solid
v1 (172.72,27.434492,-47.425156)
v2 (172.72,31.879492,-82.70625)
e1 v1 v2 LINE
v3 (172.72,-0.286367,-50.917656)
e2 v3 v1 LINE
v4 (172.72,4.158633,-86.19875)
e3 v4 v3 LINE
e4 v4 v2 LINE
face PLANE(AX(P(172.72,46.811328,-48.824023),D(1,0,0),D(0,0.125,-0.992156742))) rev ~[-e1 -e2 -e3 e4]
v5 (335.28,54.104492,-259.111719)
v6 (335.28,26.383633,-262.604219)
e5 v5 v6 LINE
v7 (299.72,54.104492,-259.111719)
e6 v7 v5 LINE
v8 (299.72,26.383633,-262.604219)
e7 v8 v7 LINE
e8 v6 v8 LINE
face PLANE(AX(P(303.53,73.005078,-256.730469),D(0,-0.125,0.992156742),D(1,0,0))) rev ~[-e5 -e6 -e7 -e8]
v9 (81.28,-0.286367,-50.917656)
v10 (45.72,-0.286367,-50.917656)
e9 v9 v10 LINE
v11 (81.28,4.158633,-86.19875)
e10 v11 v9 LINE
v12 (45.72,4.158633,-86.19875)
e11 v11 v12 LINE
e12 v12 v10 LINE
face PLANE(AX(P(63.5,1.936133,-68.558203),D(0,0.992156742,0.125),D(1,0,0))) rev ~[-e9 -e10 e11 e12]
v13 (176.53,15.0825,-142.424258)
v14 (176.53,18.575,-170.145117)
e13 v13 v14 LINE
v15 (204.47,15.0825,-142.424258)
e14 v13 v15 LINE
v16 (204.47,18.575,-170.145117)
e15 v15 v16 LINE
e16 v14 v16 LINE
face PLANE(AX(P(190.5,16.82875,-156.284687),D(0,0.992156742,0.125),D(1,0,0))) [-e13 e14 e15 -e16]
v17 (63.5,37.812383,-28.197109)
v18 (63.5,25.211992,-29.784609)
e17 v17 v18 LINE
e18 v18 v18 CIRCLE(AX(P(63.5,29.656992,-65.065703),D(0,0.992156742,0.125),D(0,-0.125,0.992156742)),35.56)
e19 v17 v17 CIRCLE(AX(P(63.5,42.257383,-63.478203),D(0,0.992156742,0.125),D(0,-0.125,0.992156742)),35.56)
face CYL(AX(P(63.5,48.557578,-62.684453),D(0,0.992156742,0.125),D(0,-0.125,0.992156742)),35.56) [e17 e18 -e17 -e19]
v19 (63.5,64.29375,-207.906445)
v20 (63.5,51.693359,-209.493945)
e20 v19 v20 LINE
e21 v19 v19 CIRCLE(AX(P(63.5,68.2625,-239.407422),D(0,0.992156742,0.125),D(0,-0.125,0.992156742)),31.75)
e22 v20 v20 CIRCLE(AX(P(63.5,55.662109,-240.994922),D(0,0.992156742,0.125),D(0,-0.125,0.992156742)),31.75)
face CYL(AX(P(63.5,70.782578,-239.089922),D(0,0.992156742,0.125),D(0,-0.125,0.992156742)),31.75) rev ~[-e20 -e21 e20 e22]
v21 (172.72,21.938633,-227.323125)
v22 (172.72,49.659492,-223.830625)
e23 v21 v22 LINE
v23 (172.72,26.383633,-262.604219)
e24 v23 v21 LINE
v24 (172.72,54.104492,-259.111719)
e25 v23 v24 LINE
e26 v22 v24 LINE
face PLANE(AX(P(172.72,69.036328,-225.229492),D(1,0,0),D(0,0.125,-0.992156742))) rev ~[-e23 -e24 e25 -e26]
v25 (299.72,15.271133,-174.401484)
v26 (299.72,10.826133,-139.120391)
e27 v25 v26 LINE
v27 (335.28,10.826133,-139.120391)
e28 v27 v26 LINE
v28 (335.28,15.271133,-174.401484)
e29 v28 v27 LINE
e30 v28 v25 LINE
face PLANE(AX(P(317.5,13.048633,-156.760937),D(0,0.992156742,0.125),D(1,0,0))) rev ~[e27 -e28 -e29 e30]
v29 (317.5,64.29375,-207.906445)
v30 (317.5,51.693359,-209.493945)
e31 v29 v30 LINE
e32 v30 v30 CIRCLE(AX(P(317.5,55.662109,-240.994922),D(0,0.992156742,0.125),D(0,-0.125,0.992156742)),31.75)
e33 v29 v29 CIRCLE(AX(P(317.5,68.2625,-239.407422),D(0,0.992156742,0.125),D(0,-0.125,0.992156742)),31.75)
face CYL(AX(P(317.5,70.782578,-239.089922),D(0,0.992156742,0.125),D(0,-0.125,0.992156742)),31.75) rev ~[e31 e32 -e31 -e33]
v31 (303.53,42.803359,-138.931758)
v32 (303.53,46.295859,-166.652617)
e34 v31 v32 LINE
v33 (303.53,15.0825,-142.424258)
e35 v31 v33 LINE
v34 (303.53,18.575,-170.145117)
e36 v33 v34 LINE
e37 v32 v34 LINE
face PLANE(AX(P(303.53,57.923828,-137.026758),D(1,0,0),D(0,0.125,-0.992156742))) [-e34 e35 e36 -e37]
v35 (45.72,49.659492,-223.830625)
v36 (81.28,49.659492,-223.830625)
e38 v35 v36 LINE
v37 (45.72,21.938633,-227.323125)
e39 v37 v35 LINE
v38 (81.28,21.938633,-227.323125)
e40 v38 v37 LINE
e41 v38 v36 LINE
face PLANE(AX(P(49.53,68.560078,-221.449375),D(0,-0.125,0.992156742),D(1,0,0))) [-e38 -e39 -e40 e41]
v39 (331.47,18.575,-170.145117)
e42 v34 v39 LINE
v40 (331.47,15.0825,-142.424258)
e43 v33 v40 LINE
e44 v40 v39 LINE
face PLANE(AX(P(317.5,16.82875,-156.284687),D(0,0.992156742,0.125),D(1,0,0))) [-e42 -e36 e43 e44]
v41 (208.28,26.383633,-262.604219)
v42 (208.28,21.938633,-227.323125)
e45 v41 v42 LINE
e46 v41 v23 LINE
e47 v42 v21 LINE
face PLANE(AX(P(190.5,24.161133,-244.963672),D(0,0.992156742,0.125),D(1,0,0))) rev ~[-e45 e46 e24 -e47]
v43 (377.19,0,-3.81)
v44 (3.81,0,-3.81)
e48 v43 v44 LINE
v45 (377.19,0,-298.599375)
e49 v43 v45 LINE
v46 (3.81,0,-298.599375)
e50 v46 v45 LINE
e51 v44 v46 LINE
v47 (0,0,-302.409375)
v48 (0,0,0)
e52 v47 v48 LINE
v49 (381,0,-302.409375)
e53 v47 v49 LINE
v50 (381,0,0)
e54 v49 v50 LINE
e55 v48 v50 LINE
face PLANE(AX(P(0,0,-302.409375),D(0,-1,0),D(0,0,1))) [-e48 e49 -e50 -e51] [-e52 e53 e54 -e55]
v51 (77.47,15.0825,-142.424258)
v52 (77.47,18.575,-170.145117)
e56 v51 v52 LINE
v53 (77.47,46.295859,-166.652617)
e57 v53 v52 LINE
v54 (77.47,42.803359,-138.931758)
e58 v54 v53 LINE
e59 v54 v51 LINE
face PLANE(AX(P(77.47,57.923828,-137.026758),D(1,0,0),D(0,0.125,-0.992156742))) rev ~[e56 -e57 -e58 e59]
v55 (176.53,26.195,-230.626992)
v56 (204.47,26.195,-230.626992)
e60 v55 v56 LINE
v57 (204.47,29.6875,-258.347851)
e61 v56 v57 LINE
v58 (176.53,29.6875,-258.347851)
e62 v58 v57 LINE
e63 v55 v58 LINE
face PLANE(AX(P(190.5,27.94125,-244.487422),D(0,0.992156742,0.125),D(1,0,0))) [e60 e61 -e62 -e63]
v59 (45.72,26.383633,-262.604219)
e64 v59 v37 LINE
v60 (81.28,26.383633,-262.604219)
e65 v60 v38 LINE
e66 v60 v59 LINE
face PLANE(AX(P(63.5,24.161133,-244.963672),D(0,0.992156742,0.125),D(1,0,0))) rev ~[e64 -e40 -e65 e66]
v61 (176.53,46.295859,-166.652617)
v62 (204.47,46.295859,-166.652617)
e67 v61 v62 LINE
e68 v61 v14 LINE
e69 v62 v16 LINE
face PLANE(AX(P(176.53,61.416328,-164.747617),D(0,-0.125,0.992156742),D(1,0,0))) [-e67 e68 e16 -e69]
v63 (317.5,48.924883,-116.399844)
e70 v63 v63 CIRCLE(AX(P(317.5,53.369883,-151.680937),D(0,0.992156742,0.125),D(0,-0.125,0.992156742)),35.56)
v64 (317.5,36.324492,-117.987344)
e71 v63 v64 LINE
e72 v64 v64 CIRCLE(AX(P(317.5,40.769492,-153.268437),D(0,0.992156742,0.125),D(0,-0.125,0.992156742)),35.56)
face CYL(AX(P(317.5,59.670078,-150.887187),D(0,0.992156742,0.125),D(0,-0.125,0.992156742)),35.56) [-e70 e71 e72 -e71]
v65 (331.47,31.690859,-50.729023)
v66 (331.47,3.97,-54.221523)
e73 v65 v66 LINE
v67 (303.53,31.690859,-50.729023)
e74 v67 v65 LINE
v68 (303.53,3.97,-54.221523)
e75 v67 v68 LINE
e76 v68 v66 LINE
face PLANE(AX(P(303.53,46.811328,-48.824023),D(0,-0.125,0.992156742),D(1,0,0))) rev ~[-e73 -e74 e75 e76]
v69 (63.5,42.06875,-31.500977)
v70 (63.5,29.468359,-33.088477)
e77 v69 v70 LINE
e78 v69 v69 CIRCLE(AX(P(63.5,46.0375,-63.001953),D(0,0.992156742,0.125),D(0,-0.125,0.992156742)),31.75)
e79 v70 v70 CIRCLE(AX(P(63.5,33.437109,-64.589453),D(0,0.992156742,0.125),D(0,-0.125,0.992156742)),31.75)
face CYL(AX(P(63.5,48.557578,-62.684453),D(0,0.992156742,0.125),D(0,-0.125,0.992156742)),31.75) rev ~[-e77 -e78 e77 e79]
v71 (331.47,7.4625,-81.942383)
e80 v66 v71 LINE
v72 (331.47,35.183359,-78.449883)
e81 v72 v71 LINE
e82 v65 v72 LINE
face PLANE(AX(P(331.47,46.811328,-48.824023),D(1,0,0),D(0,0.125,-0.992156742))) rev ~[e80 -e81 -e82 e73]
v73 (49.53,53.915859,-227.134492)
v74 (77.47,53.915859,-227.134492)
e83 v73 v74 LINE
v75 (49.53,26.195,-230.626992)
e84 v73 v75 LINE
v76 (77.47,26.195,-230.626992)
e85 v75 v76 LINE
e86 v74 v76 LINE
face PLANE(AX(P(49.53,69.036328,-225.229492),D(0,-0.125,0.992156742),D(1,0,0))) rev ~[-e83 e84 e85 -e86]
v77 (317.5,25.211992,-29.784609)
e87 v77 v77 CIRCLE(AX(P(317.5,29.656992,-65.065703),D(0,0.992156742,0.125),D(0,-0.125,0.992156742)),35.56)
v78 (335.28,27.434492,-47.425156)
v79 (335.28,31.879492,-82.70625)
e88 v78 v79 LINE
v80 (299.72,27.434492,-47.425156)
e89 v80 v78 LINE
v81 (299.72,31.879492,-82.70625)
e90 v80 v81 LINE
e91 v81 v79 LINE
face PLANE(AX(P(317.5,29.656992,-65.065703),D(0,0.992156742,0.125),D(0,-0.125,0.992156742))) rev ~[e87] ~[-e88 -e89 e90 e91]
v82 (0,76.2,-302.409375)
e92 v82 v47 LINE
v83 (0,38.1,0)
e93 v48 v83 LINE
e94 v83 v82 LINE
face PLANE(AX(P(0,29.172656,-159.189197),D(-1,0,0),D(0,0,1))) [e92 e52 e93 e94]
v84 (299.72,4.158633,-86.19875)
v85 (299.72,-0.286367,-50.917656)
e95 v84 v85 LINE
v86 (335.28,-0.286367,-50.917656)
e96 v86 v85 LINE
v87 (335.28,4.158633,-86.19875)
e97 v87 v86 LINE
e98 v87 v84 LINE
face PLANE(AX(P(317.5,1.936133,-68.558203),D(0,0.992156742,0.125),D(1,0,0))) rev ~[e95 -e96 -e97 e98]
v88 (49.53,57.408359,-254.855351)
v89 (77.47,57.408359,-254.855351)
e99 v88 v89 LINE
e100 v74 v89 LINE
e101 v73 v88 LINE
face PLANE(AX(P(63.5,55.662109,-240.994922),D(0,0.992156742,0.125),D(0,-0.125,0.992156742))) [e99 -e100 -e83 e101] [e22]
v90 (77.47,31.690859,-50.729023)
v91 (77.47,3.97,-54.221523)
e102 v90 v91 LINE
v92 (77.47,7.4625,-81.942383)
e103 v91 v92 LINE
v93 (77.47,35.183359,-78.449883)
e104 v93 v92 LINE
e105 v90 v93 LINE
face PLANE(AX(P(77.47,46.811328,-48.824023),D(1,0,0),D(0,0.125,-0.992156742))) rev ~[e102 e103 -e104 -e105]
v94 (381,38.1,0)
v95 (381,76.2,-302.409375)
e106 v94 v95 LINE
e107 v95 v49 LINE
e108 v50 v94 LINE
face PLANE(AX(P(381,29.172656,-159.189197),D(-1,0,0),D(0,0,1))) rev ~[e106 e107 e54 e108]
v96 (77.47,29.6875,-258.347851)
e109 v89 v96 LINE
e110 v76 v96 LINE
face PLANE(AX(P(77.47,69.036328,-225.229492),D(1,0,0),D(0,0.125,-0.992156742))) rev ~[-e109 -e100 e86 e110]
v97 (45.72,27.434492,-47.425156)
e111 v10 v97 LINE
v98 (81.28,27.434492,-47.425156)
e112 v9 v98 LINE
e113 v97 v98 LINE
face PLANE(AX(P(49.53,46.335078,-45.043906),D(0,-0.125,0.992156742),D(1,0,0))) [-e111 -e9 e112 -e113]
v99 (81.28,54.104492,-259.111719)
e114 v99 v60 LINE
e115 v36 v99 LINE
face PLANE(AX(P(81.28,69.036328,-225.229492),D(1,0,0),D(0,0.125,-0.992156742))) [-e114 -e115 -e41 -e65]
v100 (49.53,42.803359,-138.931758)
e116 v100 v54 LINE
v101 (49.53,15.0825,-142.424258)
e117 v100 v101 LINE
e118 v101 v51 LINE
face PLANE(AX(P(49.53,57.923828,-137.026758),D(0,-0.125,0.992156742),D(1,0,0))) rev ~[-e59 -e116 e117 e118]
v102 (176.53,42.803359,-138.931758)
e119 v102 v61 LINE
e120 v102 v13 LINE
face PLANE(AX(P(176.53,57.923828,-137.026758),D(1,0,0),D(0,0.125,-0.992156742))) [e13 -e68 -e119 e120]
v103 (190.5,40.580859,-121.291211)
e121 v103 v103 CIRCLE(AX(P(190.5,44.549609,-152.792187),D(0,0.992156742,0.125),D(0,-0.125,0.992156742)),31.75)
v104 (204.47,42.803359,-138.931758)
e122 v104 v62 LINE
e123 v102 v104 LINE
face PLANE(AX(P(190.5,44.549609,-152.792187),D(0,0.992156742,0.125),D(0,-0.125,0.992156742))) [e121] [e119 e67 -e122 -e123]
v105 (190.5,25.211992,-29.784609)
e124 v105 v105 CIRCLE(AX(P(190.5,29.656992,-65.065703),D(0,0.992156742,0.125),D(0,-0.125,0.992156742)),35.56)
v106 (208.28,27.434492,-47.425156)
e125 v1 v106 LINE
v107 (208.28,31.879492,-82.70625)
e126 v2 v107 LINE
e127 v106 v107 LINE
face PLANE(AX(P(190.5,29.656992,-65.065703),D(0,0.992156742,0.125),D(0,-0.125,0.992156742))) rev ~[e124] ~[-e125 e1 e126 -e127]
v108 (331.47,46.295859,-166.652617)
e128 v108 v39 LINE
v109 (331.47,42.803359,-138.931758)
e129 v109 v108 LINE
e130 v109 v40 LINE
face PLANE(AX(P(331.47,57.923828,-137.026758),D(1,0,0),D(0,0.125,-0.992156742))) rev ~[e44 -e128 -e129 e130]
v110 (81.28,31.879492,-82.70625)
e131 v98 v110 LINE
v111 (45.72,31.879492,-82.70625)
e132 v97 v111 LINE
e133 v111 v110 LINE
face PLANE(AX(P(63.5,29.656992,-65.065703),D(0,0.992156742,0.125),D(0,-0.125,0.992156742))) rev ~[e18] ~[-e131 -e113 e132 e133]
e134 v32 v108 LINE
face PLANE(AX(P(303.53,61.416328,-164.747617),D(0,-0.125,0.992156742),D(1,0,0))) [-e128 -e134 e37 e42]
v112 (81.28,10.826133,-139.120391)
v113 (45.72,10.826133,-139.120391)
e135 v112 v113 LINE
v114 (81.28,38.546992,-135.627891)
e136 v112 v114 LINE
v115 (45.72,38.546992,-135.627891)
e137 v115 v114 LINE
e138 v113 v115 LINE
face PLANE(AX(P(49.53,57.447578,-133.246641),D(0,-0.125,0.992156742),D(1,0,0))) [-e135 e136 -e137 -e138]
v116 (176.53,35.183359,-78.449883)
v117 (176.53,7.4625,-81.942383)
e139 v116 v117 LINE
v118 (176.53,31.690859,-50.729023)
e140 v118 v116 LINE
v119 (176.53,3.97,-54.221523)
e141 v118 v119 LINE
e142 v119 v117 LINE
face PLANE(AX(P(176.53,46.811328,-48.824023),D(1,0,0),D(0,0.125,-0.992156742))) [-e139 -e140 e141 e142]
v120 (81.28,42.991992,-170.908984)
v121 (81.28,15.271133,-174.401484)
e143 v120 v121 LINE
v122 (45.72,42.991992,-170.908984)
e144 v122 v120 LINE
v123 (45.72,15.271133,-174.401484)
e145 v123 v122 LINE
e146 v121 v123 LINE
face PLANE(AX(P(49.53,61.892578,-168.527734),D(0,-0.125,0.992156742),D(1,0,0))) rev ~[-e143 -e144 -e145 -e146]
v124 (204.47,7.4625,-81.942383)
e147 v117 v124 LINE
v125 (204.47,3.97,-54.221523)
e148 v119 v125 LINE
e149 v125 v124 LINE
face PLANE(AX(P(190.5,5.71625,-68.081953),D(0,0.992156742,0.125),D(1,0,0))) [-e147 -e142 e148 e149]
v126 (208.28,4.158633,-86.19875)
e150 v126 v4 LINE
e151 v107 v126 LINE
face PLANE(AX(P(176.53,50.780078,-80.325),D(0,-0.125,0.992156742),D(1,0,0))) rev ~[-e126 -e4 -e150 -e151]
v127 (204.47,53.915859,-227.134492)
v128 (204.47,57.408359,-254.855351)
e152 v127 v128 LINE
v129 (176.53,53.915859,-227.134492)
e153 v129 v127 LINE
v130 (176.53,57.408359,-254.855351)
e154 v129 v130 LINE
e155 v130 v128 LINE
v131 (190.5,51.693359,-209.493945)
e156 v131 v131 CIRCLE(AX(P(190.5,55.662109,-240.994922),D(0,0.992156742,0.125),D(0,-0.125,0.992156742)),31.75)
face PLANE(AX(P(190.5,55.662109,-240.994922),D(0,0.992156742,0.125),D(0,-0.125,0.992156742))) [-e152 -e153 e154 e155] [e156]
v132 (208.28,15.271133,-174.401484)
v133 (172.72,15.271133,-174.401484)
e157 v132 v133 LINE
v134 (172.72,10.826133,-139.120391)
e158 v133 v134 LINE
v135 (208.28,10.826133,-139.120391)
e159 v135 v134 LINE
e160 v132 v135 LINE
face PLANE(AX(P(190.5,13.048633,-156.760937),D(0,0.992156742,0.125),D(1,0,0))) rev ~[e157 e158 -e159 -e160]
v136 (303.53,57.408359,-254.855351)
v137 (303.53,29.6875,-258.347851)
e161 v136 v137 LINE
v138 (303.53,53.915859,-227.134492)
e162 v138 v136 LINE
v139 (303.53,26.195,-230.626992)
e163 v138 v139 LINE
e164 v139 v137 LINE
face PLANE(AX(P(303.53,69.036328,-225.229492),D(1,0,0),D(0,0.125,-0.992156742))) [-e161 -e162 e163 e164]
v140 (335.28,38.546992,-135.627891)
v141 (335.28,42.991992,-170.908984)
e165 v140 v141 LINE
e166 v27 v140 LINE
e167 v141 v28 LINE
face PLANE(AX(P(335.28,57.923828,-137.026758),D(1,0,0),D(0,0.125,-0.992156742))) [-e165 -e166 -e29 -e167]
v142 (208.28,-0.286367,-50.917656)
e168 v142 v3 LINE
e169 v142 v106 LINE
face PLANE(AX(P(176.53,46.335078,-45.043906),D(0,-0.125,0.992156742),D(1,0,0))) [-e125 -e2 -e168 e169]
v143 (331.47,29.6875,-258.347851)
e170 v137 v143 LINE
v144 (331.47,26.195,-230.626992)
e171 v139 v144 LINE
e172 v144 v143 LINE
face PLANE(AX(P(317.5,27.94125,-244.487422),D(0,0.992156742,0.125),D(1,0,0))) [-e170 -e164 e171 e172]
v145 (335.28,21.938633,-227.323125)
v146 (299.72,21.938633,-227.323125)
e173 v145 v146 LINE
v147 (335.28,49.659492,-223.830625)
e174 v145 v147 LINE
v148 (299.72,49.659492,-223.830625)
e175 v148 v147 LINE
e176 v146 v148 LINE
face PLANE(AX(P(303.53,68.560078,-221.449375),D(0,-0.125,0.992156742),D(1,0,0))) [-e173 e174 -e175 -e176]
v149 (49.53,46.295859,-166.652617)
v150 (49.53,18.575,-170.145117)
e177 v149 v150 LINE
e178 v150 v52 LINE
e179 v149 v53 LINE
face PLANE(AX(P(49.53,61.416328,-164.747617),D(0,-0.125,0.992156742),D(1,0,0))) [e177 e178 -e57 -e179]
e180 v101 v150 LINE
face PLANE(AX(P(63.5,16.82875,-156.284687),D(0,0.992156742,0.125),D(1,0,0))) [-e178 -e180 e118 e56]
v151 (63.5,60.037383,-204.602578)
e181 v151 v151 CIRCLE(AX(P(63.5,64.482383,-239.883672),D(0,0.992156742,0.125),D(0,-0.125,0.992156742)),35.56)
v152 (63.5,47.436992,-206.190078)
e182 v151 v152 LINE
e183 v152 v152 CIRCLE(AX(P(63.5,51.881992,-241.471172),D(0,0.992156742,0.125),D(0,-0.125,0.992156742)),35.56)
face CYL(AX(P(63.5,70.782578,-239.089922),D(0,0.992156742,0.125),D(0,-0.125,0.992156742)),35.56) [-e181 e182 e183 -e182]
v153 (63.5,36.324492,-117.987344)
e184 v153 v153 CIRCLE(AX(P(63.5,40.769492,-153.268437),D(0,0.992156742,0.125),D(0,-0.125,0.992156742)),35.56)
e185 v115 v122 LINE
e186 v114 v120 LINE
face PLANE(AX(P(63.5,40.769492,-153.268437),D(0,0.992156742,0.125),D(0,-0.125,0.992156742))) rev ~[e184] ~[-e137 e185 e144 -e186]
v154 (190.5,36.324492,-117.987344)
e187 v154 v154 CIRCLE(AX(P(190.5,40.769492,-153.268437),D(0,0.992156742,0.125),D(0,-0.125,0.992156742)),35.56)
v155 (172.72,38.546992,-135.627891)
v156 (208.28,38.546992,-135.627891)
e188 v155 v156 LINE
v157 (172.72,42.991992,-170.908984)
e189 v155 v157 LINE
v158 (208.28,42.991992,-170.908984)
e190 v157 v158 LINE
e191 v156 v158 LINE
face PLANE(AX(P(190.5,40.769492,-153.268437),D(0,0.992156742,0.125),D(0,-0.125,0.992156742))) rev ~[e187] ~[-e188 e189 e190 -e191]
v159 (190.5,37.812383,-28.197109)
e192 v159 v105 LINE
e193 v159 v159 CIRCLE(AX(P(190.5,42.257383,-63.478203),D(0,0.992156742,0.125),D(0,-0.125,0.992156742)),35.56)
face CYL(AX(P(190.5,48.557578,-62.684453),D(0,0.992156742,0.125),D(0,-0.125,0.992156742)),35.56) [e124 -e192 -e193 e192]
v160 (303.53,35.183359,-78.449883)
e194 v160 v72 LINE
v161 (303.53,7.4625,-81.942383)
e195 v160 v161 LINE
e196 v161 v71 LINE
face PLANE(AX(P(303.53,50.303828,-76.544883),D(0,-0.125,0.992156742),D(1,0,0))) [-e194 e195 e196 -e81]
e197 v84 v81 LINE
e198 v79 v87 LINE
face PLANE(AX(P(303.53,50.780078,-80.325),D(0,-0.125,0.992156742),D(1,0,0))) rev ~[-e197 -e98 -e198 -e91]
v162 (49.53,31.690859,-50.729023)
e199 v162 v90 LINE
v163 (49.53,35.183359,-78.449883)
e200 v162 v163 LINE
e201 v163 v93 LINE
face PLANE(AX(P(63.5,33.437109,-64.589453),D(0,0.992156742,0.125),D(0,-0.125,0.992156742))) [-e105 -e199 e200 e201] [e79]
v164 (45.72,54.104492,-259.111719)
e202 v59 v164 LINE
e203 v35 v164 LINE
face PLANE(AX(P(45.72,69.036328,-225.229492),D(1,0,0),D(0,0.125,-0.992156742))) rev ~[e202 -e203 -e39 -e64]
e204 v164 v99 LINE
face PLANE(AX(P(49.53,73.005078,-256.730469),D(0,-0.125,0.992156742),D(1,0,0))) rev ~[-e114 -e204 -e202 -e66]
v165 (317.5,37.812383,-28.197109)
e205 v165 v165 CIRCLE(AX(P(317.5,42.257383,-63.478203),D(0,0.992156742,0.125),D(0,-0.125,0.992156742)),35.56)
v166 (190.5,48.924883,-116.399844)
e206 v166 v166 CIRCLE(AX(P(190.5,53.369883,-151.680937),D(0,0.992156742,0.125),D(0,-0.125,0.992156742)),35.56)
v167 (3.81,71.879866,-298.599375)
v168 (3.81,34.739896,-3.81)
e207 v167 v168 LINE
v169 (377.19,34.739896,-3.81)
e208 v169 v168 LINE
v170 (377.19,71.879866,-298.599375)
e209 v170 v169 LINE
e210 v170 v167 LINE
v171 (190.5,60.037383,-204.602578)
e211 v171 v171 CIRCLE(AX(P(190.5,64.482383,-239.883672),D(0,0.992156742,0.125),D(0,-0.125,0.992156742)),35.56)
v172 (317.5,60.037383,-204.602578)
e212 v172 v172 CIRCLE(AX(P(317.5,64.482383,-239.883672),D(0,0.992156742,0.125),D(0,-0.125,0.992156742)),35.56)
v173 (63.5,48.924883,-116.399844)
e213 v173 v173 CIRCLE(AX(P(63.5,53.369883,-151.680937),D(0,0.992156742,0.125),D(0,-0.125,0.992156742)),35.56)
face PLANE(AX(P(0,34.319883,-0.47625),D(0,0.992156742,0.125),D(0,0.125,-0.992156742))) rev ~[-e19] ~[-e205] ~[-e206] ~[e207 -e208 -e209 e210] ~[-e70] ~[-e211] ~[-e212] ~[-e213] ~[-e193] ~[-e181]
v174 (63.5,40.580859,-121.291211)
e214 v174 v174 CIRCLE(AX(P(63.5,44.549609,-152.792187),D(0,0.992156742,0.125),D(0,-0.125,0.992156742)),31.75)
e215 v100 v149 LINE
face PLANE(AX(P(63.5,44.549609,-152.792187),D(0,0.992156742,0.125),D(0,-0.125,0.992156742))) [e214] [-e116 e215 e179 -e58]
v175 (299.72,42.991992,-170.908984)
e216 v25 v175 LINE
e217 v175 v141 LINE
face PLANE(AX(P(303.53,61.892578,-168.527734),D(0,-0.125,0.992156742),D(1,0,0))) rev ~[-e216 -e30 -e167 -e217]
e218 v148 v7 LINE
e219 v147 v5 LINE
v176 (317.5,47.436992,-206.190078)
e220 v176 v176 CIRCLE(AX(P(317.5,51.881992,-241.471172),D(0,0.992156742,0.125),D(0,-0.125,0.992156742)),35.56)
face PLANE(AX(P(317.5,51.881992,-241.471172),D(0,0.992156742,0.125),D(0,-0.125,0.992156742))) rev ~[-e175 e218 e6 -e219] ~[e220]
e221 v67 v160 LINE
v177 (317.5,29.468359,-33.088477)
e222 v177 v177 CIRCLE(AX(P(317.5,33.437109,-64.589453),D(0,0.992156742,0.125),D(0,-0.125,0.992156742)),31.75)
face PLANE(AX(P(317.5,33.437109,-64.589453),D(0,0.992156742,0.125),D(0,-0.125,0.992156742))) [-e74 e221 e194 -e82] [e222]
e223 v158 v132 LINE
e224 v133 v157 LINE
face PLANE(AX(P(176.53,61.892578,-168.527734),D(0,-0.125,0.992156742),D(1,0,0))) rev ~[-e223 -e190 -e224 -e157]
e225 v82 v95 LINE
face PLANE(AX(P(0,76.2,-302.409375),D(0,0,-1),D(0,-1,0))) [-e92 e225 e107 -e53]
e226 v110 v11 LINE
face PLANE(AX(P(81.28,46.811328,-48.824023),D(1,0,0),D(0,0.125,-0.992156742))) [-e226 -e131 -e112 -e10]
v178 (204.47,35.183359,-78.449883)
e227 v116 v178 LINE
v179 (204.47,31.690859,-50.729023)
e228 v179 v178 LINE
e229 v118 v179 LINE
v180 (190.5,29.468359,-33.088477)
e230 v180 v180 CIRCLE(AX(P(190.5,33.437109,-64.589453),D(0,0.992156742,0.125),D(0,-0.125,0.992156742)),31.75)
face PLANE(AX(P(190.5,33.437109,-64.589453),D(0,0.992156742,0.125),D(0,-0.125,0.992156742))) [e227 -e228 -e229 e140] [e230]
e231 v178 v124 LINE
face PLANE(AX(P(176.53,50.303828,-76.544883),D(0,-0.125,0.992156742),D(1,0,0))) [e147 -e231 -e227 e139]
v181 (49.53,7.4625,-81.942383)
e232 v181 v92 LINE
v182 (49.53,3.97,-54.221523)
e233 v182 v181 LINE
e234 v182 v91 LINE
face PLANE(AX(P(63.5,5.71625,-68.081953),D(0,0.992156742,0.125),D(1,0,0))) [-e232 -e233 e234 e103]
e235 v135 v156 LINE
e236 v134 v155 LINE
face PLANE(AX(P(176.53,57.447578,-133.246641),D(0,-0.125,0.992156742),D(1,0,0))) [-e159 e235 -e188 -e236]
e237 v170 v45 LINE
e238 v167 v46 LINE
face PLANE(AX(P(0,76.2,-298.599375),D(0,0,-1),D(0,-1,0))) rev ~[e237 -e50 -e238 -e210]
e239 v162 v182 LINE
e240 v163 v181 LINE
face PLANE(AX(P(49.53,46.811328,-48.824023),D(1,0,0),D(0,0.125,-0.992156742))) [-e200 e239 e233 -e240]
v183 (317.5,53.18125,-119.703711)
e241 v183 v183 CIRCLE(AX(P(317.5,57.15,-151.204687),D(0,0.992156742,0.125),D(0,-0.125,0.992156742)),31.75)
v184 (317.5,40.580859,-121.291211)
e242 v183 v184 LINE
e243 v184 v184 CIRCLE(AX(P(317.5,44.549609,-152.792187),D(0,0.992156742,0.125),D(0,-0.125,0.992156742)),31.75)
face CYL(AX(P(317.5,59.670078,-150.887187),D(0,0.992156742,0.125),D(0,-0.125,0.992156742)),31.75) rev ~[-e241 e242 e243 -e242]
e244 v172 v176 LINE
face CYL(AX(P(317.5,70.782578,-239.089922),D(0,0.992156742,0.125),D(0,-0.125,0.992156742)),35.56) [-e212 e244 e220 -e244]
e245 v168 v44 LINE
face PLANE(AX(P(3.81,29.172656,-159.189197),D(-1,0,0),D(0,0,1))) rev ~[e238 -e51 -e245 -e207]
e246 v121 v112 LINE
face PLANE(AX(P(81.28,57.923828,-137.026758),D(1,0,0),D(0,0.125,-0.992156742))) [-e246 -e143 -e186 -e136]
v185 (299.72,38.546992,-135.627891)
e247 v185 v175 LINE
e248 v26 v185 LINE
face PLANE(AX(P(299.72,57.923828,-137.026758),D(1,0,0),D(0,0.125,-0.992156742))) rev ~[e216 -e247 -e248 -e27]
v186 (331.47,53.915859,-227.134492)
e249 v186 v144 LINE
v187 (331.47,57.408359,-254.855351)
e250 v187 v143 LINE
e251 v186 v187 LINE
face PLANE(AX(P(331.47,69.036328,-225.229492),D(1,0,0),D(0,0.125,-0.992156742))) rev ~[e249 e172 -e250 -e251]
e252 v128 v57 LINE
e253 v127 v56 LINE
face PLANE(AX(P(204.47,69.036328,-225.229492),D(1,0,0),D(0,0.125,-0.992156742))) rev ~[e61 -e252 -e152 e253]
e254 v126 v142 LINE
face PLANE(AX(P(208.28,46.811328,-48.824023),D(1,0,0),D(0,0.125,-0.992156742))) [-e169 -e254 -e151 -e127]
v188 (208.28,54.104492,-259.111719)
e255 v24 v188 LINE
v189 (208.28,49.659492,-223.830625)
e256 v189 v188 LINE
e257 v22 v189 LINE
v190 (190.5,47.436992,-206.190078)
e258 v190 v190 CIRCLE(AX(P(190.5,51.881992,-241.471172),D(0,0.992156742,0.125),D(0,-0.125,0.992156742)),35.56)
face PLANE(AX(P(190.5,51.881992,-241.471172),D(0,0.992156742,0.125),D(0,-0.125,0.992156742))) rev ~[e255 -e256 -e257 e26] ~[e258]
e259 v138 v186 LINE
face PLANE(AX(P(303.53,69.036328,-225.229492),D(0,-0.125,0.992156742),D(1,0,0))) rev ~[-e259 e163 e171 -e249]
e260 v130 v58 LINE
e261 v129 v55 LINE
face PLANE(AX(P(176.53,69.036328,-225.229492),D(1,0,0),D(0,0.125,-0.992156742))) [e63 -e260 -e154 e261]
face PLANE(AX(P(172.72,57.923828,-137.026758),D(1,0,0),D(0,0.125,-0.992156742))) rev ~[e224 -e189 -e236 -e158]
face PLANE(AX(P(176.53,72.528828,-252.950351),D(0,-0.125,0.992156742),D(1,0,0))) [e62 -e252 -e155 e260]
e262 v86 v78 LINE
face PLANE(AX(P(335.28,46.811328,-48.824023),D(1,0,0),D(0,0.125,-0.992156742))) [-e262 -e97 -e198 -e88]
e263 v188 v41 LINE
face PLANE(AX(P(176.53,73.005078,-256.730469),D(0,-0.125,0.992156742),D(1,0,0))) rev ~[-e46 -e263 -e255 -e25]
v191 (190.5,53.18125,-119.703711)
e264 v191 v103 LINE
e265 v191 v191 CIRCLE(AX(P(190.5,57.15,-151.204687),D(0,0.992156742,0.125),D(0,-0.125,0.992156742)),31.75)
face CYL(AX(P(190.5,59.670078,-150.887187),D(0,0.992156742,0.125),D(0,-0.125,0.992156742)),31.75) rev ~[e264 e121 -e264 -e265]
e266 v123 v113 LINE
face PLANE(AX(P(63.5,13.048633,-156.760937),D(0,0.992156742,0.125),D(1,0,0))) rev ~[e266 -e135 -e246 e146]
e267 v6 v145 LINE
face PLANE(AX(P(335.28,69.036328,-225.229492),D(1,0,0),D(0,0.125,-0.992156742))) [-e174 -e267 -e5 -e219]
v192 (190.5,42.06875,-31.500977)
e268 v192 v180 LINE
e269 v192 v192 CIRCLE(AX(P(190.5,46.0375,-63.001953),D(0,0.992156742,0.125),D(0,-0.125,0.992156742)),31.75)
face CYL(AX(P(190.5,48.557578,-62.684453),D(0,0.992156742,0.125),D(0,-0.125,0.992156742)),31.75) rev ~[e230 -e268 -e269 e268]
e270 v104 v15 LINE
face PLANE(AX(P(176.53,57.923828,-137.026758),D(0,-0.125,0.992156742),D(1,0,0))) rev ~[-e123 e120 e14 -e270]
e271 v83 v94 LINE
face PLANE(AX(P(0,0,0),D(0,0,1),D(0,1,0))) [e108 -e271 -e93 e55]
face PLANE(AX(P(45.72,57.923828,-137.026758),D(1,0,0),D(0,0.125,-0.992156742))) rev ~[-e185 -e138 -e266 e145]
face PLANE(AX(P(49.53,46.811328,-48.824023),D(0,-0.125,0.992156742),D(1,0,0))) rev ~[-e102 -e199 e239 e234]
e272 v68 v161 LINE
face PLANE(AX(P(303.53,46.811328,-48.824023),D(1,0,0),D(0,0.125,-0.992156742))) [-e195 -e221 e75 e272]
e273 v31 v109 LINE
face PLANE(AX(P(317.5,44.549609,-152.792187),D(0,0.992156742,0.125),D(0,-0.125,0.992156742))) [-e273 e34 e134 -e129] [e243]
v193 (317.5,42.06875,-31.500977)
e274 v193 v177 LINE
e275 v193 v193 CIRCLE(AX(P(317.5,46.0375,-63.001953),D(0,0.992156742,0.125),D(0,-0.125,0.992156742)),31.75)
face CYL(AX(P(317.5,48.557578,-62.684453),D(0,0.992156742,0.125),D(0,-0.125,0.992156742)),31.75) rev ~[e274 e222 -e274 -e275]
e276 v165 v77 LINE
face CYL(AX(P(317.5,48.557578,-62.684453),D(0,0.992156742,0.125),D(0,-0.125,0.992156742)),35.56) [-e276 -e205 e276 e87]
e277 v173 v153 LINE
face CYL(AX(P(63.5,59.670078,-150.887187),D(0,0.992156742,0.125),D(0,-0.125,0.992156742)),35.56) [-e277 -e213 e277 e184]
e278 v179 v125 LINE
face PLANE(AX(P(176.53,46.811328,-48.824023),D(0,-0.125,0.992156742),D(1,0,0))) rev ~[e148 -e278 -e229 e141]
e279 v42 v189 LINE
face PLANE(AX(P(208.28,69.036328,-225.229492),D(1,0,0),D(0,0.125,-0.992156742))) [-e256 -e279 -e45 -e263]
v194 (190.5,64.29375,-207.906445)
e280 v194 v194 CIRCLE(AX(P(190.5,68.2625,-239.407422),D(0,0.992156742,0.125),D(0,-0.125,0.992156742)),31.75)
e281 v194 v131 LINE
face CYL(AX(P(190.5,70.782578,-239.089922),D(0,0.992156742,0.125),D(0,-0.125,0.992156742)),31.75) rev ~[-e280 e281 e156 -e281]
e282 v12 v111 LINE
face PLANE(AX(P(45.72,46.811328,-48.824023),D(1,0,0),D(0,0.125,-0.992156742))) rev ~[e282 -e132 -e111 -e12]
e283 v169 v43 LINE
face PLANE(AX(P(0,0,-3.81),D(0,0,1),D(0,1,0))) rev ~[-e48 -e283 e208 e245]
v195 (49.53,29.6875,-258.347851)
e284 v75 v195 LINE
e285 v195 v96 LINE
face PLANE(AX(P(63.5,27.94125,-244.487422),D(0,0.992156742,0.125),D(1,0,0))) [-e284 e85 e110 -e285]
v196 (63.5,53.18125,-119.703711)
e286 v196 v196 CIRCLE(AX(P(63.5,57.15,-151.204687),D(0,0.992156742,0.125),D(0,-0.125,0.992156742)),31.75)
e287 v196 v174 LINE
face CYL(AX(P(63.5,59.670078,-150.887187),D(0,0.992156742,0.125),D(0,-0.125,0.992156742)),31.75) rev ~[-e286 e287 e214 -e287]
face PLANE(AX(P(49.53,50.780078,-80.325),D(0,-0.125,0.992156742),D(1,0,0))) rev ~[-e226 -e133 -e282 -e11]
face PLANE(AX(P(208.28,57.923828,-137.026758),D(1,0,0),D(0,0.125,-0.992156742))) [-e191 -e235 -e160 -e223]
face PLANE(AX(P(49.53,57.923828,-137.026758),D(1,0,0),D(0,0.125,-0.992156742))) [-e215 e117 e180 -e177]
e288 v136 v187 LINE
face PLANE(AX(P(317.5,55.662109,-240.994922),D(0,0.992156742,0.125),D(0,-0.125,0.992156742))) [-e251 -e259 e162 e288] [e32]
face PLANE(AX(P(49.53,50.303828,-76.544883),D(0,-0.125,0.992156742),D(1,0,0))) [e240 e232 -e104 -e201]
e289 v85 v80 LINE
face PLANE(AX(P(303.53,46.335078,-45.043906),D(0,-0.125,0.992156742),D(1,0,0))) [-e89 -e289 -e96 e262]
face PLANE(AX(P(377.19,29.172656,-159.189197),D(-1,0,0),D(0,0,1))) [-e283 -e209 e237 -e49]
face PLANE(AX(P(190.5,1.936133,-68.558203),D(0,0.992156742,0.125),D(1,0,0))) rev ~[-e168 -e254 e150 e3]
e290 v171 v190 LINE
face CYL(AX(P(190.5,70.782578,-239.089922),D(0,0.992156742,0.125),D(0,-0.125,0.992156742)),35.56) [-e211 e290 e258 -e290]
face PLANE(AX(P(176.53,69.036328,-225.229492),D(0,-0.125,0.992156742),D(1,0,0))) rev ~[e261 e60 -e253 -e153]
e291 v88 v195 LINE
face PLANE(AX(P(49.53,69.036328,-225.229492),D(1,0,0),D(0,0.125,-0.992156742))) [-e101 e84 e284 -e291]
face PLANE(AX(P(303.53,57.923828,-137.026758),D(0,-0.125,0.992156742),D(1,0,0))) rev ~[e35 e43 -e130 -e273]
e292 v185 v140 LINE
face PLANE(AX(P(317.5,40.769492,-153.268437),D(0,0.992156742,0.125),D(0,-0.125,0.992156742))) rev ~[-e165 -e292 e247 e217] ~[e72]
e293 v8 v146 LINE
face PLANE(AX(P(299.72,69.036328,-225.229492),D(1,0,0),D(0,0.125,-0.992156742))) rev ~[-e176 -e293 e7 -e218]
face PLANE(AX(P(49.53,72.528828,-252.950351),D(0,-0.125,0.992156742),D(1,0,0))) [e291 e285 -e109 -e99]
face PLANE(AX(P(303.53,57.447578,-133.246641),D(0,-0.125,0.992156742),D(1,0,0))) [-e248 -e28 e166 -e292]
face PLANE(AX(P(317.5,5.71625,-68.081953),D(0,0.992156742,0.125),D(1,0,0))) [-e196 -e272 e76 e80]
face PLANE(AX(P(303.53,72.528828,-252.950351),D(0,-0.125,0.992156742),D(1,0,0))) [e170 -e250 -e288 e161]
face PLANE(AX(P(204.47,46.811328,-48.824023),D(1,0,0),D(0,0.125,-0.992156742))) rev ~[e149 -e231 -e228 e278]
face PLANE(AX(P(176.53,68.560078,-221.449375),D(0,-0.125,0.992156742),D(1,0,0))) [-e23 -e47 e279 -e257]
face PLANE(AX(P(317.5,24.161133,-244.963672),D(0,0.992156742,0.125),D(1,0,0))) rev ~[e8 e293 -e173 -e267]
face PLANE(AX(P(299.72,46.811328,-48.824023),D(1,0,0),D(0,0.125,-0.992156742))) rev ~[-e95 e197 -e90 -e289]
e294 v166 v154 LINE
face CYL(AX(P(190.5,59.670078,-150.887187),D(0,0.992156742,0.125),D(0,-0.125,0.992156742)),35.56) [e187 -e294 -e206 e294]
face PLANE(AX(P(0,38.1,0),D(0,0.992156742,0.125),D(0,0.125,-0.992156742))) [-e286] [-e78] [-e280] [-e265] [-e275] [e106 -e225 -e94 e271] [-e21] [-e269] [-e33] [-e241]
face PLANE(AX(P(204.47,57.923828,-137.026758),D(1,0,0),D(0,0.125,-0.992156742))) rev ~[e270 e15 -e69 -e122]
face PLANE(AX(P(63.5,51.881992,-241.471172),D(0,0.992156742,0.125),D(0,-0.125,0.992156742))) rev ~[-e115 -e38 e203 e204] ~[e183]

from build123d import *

# Parameters (mm, degrees)
BOSS_EXTRUDE1_DEPTH = 381
SKETCH2_R           = 31.75
SKETCH2_W           = 27.94
SKETCH2_H           = 27.94
CUT_EXTRUDE2_DEPTH  = 15.24
SKETCH2_3_W         = 27.94
SKETCH2_3_H         = 27.94
CUT_EXTRUDE3_DEPTH  = 43.18
SHELL1_T            = -3.81


with BuildPart() as part:
    # Sketch1 → Boss-Extrude1 (new body)
    with BuildSketch(Plane(origin=(0, 0, 0), x_dir=(0, 0, -1), z_dir=(1, 0, 0))):
        Polygon((0, 0), (0, 38.1), (302.409374855, 76.2), (302.409374855, 0), align=None)
    extrude(amount=BOSS_EXTRUDE1_DEPTH)

    # Sketch2 → Cut-Extrude2 (cut)
    # profile 1 of 9: a face of its own
    with BuildSketch(Plane(origin=(0, 40.024765624, 5.042646482), x_dir=(1, 0, 0), z_dir=(0, 0.9921567416492215, 0.12500000000000003))):
        with Locations((63.5, 246.0625)):
            Circle(SKETCH2_R)
        with Locations((63.5, 246.0625)):
            Rectangle(SKETCH2_W, SKETCH2_H, mode=Mode.SUBTRACT)
    # profile 2 of 9: a face of its own
    with BuildSketch(Plane(origin=(0, 40.024765624, 5.042646482), x_dir=(1, 0, 0), z_dir=(0, 0.9921567416492215, 0.12500000000000003))):
        with Locations((190.5, 246.0625)):
            Circle(SKETCH2_R)
        with Locations((190.5, 246.0625)):
            Rectangle(SKETCH2_W, SKETCH2_H, mode=Mode.SUBTRACT)
    # profile 3 of 9: a face of its own
    with BuildSketch(Plane(origin=(0, 40.024765624, 5.042646482), x_dir=(1, 0, 0), z_dir=(0, 0.9921567416492215, 0.12500000000000003))):
        with Locations((317.5, 246.0625)):
            Circle(SKETCH2_R)
        with Locations((317.5, 246.0625)):
            Rectangle(SKETCH2_W, SKETCH2_H, mode=Mode.SUBTRACT)
    # profile 4 of 9: a face of its own
    with BuildSketch(Plane(origin=(0, 40.024765624, 5.042646482), x_dir=(1, 0, 0), z_dir=(0, 0.9921567416492215, 0.12500000000000003))):
        with Locations((63.5, 157.1625)):
            Circle(SKETCH2_R)
        with Locations((63.5, 157.1625)):
            Rectangle(SKETCH2_W, SKETCH2_H, mode=Mode.SUBTRACT)
    # profile 5 of 9: a face of its own
    with BuildSketch(Plane(origin=(0, 40.024765624, 5.042646482), x_dir=(1, 0, 0), z_dir=(0, 0.9921567416492215, 0.12500000000000003))):
        with Locations((63.5, 68.2625)):
            Circle(SKETCH2_R)
        with Locations((63.5, 68.2625)):
            Rectangle(SKETCH2_W, SKETCH2_H, mode=Mode.SUBTRACT)
    # profile 6 of 9: a face of its own
    with BuildSketch(Plane(origin=(0, 40.024765624, 5.042646482), x_dir=(1, 0, 0), z_dir=(0, 0.9921567416492215, 0.12500000000000003))):
        with Locations((190.5, 157.1625)):
            Circle(SKETCH2_R)
        with Locations((190.5, 157.1625)):
            Rectangle(SKETCH2_W, SKETCH2_H, mode=Mode.SUBTRACT)
    # profile 7 of 9: a face of its own
    with BuildSketch(Plane(origin=(0, 40.024765624, 5.042646482), x_dir=(1, 0, 0), z_dir=(0, 0.9921567416492215, 0.12500000000000003))):
        with Locations((190.5, 68.2625)):
            Circle(SKETCH2_R)
        with Locations((190.5, 68.2625)):
            Rectangle(SKETCH2_W, SKETCH2_H, mode=Mode.SUBTRACT)
    # profile 8 of 9: a face of its own
    with BuildSketch(Plane(origin=(0, 40.024765624, 5.042646482), x_dir=(1, 0, 0), z_dir=(0, 0.9921567416492215, 0.12500000000000003))):
        with Locations((317.5, 68.2625)):
            Circle(SKETCH2_R)
        with Locations((317.5, 68.2625)):
            Rectangle(SKETCH2_W, SKETCH2_H, mode=Mode.SUBTRACT)
    # profile 9 of 9: a face of its own
    with BuildSketch(Plane(origin=(0, 40.024765624, 5.042646482), x_dir=(1, 0, 0), z_dir=(0, 0.9921567416492215, 0.12500000000000003))):
        with Locations((317.5, 157.1625)):
            Circle(SKETCH2_R)
        with Locations((317.5, 157.1625)):
            Rectangle(SKETCH2_W, SKETCH2_H, mode=Mode.SUBTRACT)
    extrude(amount=-CUT_EXTRUDE2_DEPTH, mode=Mode.SUBTRACT)

    # Sketch2<3> → Cut-Extrude3 (cut)
    with BuildSketch(Plane(origin=(0, 40.024765624, 5.042646482), x_dir=(1, 0, 0), z_dir=(0, 0.9921567416492215, 0.12500000000000003))):
        with Locations((317.5, 246.0625)):
            Rectangle(SKETCH2_3_W, SKETCH2_3_H)
        with Locations((190.5, 157.1625)):
            Rectangle(SKETCH2_3_W, SKETCH2_3_H)
        with Locations((317.5, 68.2625)):
            Rectangle(SKETCH2_3_W, SKETCH2_3_H)
        with Locations((190.5, 68.2625)):
            Rectangle(SKETCH2_3_W, SKETCH2_3_H)
        with Locations((190.5, 246.0625)):
            Rectangle(SKETCH2_3_W, SKETCH2_3_H)
        with Locations((63.5, 157.1625)):
            Rectangle(SKETCH2_3_W, SKETCH2_3_H)
        with Locations((317.5, 157.1625)):
            Rectangle(SKETCH2_3_W, SKETCH2_3_H)
        with Locations((63.5, 68.2625)):
            Rectangle(SKETCH2_3_W, SKETCH2_3_H)
        with Locations((63.5, 246.0625)):
            Rectangle(SKETCH2_3_W, SKETCH2_3_H)
    extrude(amount=-CUT_EXTRUDE3_DEPTH, mode=Mode.SUBTRACT)

    # Shell1
    shell1_openings = [part.faces().sort_by_distance(p)[0] for p in [
        (190.5, 0, -151.204687427),
    ]]
    offset(amount=SHELL1_T, openings=shell1_openings, kind=Kind.INTERSECTION)


solid = part.part
